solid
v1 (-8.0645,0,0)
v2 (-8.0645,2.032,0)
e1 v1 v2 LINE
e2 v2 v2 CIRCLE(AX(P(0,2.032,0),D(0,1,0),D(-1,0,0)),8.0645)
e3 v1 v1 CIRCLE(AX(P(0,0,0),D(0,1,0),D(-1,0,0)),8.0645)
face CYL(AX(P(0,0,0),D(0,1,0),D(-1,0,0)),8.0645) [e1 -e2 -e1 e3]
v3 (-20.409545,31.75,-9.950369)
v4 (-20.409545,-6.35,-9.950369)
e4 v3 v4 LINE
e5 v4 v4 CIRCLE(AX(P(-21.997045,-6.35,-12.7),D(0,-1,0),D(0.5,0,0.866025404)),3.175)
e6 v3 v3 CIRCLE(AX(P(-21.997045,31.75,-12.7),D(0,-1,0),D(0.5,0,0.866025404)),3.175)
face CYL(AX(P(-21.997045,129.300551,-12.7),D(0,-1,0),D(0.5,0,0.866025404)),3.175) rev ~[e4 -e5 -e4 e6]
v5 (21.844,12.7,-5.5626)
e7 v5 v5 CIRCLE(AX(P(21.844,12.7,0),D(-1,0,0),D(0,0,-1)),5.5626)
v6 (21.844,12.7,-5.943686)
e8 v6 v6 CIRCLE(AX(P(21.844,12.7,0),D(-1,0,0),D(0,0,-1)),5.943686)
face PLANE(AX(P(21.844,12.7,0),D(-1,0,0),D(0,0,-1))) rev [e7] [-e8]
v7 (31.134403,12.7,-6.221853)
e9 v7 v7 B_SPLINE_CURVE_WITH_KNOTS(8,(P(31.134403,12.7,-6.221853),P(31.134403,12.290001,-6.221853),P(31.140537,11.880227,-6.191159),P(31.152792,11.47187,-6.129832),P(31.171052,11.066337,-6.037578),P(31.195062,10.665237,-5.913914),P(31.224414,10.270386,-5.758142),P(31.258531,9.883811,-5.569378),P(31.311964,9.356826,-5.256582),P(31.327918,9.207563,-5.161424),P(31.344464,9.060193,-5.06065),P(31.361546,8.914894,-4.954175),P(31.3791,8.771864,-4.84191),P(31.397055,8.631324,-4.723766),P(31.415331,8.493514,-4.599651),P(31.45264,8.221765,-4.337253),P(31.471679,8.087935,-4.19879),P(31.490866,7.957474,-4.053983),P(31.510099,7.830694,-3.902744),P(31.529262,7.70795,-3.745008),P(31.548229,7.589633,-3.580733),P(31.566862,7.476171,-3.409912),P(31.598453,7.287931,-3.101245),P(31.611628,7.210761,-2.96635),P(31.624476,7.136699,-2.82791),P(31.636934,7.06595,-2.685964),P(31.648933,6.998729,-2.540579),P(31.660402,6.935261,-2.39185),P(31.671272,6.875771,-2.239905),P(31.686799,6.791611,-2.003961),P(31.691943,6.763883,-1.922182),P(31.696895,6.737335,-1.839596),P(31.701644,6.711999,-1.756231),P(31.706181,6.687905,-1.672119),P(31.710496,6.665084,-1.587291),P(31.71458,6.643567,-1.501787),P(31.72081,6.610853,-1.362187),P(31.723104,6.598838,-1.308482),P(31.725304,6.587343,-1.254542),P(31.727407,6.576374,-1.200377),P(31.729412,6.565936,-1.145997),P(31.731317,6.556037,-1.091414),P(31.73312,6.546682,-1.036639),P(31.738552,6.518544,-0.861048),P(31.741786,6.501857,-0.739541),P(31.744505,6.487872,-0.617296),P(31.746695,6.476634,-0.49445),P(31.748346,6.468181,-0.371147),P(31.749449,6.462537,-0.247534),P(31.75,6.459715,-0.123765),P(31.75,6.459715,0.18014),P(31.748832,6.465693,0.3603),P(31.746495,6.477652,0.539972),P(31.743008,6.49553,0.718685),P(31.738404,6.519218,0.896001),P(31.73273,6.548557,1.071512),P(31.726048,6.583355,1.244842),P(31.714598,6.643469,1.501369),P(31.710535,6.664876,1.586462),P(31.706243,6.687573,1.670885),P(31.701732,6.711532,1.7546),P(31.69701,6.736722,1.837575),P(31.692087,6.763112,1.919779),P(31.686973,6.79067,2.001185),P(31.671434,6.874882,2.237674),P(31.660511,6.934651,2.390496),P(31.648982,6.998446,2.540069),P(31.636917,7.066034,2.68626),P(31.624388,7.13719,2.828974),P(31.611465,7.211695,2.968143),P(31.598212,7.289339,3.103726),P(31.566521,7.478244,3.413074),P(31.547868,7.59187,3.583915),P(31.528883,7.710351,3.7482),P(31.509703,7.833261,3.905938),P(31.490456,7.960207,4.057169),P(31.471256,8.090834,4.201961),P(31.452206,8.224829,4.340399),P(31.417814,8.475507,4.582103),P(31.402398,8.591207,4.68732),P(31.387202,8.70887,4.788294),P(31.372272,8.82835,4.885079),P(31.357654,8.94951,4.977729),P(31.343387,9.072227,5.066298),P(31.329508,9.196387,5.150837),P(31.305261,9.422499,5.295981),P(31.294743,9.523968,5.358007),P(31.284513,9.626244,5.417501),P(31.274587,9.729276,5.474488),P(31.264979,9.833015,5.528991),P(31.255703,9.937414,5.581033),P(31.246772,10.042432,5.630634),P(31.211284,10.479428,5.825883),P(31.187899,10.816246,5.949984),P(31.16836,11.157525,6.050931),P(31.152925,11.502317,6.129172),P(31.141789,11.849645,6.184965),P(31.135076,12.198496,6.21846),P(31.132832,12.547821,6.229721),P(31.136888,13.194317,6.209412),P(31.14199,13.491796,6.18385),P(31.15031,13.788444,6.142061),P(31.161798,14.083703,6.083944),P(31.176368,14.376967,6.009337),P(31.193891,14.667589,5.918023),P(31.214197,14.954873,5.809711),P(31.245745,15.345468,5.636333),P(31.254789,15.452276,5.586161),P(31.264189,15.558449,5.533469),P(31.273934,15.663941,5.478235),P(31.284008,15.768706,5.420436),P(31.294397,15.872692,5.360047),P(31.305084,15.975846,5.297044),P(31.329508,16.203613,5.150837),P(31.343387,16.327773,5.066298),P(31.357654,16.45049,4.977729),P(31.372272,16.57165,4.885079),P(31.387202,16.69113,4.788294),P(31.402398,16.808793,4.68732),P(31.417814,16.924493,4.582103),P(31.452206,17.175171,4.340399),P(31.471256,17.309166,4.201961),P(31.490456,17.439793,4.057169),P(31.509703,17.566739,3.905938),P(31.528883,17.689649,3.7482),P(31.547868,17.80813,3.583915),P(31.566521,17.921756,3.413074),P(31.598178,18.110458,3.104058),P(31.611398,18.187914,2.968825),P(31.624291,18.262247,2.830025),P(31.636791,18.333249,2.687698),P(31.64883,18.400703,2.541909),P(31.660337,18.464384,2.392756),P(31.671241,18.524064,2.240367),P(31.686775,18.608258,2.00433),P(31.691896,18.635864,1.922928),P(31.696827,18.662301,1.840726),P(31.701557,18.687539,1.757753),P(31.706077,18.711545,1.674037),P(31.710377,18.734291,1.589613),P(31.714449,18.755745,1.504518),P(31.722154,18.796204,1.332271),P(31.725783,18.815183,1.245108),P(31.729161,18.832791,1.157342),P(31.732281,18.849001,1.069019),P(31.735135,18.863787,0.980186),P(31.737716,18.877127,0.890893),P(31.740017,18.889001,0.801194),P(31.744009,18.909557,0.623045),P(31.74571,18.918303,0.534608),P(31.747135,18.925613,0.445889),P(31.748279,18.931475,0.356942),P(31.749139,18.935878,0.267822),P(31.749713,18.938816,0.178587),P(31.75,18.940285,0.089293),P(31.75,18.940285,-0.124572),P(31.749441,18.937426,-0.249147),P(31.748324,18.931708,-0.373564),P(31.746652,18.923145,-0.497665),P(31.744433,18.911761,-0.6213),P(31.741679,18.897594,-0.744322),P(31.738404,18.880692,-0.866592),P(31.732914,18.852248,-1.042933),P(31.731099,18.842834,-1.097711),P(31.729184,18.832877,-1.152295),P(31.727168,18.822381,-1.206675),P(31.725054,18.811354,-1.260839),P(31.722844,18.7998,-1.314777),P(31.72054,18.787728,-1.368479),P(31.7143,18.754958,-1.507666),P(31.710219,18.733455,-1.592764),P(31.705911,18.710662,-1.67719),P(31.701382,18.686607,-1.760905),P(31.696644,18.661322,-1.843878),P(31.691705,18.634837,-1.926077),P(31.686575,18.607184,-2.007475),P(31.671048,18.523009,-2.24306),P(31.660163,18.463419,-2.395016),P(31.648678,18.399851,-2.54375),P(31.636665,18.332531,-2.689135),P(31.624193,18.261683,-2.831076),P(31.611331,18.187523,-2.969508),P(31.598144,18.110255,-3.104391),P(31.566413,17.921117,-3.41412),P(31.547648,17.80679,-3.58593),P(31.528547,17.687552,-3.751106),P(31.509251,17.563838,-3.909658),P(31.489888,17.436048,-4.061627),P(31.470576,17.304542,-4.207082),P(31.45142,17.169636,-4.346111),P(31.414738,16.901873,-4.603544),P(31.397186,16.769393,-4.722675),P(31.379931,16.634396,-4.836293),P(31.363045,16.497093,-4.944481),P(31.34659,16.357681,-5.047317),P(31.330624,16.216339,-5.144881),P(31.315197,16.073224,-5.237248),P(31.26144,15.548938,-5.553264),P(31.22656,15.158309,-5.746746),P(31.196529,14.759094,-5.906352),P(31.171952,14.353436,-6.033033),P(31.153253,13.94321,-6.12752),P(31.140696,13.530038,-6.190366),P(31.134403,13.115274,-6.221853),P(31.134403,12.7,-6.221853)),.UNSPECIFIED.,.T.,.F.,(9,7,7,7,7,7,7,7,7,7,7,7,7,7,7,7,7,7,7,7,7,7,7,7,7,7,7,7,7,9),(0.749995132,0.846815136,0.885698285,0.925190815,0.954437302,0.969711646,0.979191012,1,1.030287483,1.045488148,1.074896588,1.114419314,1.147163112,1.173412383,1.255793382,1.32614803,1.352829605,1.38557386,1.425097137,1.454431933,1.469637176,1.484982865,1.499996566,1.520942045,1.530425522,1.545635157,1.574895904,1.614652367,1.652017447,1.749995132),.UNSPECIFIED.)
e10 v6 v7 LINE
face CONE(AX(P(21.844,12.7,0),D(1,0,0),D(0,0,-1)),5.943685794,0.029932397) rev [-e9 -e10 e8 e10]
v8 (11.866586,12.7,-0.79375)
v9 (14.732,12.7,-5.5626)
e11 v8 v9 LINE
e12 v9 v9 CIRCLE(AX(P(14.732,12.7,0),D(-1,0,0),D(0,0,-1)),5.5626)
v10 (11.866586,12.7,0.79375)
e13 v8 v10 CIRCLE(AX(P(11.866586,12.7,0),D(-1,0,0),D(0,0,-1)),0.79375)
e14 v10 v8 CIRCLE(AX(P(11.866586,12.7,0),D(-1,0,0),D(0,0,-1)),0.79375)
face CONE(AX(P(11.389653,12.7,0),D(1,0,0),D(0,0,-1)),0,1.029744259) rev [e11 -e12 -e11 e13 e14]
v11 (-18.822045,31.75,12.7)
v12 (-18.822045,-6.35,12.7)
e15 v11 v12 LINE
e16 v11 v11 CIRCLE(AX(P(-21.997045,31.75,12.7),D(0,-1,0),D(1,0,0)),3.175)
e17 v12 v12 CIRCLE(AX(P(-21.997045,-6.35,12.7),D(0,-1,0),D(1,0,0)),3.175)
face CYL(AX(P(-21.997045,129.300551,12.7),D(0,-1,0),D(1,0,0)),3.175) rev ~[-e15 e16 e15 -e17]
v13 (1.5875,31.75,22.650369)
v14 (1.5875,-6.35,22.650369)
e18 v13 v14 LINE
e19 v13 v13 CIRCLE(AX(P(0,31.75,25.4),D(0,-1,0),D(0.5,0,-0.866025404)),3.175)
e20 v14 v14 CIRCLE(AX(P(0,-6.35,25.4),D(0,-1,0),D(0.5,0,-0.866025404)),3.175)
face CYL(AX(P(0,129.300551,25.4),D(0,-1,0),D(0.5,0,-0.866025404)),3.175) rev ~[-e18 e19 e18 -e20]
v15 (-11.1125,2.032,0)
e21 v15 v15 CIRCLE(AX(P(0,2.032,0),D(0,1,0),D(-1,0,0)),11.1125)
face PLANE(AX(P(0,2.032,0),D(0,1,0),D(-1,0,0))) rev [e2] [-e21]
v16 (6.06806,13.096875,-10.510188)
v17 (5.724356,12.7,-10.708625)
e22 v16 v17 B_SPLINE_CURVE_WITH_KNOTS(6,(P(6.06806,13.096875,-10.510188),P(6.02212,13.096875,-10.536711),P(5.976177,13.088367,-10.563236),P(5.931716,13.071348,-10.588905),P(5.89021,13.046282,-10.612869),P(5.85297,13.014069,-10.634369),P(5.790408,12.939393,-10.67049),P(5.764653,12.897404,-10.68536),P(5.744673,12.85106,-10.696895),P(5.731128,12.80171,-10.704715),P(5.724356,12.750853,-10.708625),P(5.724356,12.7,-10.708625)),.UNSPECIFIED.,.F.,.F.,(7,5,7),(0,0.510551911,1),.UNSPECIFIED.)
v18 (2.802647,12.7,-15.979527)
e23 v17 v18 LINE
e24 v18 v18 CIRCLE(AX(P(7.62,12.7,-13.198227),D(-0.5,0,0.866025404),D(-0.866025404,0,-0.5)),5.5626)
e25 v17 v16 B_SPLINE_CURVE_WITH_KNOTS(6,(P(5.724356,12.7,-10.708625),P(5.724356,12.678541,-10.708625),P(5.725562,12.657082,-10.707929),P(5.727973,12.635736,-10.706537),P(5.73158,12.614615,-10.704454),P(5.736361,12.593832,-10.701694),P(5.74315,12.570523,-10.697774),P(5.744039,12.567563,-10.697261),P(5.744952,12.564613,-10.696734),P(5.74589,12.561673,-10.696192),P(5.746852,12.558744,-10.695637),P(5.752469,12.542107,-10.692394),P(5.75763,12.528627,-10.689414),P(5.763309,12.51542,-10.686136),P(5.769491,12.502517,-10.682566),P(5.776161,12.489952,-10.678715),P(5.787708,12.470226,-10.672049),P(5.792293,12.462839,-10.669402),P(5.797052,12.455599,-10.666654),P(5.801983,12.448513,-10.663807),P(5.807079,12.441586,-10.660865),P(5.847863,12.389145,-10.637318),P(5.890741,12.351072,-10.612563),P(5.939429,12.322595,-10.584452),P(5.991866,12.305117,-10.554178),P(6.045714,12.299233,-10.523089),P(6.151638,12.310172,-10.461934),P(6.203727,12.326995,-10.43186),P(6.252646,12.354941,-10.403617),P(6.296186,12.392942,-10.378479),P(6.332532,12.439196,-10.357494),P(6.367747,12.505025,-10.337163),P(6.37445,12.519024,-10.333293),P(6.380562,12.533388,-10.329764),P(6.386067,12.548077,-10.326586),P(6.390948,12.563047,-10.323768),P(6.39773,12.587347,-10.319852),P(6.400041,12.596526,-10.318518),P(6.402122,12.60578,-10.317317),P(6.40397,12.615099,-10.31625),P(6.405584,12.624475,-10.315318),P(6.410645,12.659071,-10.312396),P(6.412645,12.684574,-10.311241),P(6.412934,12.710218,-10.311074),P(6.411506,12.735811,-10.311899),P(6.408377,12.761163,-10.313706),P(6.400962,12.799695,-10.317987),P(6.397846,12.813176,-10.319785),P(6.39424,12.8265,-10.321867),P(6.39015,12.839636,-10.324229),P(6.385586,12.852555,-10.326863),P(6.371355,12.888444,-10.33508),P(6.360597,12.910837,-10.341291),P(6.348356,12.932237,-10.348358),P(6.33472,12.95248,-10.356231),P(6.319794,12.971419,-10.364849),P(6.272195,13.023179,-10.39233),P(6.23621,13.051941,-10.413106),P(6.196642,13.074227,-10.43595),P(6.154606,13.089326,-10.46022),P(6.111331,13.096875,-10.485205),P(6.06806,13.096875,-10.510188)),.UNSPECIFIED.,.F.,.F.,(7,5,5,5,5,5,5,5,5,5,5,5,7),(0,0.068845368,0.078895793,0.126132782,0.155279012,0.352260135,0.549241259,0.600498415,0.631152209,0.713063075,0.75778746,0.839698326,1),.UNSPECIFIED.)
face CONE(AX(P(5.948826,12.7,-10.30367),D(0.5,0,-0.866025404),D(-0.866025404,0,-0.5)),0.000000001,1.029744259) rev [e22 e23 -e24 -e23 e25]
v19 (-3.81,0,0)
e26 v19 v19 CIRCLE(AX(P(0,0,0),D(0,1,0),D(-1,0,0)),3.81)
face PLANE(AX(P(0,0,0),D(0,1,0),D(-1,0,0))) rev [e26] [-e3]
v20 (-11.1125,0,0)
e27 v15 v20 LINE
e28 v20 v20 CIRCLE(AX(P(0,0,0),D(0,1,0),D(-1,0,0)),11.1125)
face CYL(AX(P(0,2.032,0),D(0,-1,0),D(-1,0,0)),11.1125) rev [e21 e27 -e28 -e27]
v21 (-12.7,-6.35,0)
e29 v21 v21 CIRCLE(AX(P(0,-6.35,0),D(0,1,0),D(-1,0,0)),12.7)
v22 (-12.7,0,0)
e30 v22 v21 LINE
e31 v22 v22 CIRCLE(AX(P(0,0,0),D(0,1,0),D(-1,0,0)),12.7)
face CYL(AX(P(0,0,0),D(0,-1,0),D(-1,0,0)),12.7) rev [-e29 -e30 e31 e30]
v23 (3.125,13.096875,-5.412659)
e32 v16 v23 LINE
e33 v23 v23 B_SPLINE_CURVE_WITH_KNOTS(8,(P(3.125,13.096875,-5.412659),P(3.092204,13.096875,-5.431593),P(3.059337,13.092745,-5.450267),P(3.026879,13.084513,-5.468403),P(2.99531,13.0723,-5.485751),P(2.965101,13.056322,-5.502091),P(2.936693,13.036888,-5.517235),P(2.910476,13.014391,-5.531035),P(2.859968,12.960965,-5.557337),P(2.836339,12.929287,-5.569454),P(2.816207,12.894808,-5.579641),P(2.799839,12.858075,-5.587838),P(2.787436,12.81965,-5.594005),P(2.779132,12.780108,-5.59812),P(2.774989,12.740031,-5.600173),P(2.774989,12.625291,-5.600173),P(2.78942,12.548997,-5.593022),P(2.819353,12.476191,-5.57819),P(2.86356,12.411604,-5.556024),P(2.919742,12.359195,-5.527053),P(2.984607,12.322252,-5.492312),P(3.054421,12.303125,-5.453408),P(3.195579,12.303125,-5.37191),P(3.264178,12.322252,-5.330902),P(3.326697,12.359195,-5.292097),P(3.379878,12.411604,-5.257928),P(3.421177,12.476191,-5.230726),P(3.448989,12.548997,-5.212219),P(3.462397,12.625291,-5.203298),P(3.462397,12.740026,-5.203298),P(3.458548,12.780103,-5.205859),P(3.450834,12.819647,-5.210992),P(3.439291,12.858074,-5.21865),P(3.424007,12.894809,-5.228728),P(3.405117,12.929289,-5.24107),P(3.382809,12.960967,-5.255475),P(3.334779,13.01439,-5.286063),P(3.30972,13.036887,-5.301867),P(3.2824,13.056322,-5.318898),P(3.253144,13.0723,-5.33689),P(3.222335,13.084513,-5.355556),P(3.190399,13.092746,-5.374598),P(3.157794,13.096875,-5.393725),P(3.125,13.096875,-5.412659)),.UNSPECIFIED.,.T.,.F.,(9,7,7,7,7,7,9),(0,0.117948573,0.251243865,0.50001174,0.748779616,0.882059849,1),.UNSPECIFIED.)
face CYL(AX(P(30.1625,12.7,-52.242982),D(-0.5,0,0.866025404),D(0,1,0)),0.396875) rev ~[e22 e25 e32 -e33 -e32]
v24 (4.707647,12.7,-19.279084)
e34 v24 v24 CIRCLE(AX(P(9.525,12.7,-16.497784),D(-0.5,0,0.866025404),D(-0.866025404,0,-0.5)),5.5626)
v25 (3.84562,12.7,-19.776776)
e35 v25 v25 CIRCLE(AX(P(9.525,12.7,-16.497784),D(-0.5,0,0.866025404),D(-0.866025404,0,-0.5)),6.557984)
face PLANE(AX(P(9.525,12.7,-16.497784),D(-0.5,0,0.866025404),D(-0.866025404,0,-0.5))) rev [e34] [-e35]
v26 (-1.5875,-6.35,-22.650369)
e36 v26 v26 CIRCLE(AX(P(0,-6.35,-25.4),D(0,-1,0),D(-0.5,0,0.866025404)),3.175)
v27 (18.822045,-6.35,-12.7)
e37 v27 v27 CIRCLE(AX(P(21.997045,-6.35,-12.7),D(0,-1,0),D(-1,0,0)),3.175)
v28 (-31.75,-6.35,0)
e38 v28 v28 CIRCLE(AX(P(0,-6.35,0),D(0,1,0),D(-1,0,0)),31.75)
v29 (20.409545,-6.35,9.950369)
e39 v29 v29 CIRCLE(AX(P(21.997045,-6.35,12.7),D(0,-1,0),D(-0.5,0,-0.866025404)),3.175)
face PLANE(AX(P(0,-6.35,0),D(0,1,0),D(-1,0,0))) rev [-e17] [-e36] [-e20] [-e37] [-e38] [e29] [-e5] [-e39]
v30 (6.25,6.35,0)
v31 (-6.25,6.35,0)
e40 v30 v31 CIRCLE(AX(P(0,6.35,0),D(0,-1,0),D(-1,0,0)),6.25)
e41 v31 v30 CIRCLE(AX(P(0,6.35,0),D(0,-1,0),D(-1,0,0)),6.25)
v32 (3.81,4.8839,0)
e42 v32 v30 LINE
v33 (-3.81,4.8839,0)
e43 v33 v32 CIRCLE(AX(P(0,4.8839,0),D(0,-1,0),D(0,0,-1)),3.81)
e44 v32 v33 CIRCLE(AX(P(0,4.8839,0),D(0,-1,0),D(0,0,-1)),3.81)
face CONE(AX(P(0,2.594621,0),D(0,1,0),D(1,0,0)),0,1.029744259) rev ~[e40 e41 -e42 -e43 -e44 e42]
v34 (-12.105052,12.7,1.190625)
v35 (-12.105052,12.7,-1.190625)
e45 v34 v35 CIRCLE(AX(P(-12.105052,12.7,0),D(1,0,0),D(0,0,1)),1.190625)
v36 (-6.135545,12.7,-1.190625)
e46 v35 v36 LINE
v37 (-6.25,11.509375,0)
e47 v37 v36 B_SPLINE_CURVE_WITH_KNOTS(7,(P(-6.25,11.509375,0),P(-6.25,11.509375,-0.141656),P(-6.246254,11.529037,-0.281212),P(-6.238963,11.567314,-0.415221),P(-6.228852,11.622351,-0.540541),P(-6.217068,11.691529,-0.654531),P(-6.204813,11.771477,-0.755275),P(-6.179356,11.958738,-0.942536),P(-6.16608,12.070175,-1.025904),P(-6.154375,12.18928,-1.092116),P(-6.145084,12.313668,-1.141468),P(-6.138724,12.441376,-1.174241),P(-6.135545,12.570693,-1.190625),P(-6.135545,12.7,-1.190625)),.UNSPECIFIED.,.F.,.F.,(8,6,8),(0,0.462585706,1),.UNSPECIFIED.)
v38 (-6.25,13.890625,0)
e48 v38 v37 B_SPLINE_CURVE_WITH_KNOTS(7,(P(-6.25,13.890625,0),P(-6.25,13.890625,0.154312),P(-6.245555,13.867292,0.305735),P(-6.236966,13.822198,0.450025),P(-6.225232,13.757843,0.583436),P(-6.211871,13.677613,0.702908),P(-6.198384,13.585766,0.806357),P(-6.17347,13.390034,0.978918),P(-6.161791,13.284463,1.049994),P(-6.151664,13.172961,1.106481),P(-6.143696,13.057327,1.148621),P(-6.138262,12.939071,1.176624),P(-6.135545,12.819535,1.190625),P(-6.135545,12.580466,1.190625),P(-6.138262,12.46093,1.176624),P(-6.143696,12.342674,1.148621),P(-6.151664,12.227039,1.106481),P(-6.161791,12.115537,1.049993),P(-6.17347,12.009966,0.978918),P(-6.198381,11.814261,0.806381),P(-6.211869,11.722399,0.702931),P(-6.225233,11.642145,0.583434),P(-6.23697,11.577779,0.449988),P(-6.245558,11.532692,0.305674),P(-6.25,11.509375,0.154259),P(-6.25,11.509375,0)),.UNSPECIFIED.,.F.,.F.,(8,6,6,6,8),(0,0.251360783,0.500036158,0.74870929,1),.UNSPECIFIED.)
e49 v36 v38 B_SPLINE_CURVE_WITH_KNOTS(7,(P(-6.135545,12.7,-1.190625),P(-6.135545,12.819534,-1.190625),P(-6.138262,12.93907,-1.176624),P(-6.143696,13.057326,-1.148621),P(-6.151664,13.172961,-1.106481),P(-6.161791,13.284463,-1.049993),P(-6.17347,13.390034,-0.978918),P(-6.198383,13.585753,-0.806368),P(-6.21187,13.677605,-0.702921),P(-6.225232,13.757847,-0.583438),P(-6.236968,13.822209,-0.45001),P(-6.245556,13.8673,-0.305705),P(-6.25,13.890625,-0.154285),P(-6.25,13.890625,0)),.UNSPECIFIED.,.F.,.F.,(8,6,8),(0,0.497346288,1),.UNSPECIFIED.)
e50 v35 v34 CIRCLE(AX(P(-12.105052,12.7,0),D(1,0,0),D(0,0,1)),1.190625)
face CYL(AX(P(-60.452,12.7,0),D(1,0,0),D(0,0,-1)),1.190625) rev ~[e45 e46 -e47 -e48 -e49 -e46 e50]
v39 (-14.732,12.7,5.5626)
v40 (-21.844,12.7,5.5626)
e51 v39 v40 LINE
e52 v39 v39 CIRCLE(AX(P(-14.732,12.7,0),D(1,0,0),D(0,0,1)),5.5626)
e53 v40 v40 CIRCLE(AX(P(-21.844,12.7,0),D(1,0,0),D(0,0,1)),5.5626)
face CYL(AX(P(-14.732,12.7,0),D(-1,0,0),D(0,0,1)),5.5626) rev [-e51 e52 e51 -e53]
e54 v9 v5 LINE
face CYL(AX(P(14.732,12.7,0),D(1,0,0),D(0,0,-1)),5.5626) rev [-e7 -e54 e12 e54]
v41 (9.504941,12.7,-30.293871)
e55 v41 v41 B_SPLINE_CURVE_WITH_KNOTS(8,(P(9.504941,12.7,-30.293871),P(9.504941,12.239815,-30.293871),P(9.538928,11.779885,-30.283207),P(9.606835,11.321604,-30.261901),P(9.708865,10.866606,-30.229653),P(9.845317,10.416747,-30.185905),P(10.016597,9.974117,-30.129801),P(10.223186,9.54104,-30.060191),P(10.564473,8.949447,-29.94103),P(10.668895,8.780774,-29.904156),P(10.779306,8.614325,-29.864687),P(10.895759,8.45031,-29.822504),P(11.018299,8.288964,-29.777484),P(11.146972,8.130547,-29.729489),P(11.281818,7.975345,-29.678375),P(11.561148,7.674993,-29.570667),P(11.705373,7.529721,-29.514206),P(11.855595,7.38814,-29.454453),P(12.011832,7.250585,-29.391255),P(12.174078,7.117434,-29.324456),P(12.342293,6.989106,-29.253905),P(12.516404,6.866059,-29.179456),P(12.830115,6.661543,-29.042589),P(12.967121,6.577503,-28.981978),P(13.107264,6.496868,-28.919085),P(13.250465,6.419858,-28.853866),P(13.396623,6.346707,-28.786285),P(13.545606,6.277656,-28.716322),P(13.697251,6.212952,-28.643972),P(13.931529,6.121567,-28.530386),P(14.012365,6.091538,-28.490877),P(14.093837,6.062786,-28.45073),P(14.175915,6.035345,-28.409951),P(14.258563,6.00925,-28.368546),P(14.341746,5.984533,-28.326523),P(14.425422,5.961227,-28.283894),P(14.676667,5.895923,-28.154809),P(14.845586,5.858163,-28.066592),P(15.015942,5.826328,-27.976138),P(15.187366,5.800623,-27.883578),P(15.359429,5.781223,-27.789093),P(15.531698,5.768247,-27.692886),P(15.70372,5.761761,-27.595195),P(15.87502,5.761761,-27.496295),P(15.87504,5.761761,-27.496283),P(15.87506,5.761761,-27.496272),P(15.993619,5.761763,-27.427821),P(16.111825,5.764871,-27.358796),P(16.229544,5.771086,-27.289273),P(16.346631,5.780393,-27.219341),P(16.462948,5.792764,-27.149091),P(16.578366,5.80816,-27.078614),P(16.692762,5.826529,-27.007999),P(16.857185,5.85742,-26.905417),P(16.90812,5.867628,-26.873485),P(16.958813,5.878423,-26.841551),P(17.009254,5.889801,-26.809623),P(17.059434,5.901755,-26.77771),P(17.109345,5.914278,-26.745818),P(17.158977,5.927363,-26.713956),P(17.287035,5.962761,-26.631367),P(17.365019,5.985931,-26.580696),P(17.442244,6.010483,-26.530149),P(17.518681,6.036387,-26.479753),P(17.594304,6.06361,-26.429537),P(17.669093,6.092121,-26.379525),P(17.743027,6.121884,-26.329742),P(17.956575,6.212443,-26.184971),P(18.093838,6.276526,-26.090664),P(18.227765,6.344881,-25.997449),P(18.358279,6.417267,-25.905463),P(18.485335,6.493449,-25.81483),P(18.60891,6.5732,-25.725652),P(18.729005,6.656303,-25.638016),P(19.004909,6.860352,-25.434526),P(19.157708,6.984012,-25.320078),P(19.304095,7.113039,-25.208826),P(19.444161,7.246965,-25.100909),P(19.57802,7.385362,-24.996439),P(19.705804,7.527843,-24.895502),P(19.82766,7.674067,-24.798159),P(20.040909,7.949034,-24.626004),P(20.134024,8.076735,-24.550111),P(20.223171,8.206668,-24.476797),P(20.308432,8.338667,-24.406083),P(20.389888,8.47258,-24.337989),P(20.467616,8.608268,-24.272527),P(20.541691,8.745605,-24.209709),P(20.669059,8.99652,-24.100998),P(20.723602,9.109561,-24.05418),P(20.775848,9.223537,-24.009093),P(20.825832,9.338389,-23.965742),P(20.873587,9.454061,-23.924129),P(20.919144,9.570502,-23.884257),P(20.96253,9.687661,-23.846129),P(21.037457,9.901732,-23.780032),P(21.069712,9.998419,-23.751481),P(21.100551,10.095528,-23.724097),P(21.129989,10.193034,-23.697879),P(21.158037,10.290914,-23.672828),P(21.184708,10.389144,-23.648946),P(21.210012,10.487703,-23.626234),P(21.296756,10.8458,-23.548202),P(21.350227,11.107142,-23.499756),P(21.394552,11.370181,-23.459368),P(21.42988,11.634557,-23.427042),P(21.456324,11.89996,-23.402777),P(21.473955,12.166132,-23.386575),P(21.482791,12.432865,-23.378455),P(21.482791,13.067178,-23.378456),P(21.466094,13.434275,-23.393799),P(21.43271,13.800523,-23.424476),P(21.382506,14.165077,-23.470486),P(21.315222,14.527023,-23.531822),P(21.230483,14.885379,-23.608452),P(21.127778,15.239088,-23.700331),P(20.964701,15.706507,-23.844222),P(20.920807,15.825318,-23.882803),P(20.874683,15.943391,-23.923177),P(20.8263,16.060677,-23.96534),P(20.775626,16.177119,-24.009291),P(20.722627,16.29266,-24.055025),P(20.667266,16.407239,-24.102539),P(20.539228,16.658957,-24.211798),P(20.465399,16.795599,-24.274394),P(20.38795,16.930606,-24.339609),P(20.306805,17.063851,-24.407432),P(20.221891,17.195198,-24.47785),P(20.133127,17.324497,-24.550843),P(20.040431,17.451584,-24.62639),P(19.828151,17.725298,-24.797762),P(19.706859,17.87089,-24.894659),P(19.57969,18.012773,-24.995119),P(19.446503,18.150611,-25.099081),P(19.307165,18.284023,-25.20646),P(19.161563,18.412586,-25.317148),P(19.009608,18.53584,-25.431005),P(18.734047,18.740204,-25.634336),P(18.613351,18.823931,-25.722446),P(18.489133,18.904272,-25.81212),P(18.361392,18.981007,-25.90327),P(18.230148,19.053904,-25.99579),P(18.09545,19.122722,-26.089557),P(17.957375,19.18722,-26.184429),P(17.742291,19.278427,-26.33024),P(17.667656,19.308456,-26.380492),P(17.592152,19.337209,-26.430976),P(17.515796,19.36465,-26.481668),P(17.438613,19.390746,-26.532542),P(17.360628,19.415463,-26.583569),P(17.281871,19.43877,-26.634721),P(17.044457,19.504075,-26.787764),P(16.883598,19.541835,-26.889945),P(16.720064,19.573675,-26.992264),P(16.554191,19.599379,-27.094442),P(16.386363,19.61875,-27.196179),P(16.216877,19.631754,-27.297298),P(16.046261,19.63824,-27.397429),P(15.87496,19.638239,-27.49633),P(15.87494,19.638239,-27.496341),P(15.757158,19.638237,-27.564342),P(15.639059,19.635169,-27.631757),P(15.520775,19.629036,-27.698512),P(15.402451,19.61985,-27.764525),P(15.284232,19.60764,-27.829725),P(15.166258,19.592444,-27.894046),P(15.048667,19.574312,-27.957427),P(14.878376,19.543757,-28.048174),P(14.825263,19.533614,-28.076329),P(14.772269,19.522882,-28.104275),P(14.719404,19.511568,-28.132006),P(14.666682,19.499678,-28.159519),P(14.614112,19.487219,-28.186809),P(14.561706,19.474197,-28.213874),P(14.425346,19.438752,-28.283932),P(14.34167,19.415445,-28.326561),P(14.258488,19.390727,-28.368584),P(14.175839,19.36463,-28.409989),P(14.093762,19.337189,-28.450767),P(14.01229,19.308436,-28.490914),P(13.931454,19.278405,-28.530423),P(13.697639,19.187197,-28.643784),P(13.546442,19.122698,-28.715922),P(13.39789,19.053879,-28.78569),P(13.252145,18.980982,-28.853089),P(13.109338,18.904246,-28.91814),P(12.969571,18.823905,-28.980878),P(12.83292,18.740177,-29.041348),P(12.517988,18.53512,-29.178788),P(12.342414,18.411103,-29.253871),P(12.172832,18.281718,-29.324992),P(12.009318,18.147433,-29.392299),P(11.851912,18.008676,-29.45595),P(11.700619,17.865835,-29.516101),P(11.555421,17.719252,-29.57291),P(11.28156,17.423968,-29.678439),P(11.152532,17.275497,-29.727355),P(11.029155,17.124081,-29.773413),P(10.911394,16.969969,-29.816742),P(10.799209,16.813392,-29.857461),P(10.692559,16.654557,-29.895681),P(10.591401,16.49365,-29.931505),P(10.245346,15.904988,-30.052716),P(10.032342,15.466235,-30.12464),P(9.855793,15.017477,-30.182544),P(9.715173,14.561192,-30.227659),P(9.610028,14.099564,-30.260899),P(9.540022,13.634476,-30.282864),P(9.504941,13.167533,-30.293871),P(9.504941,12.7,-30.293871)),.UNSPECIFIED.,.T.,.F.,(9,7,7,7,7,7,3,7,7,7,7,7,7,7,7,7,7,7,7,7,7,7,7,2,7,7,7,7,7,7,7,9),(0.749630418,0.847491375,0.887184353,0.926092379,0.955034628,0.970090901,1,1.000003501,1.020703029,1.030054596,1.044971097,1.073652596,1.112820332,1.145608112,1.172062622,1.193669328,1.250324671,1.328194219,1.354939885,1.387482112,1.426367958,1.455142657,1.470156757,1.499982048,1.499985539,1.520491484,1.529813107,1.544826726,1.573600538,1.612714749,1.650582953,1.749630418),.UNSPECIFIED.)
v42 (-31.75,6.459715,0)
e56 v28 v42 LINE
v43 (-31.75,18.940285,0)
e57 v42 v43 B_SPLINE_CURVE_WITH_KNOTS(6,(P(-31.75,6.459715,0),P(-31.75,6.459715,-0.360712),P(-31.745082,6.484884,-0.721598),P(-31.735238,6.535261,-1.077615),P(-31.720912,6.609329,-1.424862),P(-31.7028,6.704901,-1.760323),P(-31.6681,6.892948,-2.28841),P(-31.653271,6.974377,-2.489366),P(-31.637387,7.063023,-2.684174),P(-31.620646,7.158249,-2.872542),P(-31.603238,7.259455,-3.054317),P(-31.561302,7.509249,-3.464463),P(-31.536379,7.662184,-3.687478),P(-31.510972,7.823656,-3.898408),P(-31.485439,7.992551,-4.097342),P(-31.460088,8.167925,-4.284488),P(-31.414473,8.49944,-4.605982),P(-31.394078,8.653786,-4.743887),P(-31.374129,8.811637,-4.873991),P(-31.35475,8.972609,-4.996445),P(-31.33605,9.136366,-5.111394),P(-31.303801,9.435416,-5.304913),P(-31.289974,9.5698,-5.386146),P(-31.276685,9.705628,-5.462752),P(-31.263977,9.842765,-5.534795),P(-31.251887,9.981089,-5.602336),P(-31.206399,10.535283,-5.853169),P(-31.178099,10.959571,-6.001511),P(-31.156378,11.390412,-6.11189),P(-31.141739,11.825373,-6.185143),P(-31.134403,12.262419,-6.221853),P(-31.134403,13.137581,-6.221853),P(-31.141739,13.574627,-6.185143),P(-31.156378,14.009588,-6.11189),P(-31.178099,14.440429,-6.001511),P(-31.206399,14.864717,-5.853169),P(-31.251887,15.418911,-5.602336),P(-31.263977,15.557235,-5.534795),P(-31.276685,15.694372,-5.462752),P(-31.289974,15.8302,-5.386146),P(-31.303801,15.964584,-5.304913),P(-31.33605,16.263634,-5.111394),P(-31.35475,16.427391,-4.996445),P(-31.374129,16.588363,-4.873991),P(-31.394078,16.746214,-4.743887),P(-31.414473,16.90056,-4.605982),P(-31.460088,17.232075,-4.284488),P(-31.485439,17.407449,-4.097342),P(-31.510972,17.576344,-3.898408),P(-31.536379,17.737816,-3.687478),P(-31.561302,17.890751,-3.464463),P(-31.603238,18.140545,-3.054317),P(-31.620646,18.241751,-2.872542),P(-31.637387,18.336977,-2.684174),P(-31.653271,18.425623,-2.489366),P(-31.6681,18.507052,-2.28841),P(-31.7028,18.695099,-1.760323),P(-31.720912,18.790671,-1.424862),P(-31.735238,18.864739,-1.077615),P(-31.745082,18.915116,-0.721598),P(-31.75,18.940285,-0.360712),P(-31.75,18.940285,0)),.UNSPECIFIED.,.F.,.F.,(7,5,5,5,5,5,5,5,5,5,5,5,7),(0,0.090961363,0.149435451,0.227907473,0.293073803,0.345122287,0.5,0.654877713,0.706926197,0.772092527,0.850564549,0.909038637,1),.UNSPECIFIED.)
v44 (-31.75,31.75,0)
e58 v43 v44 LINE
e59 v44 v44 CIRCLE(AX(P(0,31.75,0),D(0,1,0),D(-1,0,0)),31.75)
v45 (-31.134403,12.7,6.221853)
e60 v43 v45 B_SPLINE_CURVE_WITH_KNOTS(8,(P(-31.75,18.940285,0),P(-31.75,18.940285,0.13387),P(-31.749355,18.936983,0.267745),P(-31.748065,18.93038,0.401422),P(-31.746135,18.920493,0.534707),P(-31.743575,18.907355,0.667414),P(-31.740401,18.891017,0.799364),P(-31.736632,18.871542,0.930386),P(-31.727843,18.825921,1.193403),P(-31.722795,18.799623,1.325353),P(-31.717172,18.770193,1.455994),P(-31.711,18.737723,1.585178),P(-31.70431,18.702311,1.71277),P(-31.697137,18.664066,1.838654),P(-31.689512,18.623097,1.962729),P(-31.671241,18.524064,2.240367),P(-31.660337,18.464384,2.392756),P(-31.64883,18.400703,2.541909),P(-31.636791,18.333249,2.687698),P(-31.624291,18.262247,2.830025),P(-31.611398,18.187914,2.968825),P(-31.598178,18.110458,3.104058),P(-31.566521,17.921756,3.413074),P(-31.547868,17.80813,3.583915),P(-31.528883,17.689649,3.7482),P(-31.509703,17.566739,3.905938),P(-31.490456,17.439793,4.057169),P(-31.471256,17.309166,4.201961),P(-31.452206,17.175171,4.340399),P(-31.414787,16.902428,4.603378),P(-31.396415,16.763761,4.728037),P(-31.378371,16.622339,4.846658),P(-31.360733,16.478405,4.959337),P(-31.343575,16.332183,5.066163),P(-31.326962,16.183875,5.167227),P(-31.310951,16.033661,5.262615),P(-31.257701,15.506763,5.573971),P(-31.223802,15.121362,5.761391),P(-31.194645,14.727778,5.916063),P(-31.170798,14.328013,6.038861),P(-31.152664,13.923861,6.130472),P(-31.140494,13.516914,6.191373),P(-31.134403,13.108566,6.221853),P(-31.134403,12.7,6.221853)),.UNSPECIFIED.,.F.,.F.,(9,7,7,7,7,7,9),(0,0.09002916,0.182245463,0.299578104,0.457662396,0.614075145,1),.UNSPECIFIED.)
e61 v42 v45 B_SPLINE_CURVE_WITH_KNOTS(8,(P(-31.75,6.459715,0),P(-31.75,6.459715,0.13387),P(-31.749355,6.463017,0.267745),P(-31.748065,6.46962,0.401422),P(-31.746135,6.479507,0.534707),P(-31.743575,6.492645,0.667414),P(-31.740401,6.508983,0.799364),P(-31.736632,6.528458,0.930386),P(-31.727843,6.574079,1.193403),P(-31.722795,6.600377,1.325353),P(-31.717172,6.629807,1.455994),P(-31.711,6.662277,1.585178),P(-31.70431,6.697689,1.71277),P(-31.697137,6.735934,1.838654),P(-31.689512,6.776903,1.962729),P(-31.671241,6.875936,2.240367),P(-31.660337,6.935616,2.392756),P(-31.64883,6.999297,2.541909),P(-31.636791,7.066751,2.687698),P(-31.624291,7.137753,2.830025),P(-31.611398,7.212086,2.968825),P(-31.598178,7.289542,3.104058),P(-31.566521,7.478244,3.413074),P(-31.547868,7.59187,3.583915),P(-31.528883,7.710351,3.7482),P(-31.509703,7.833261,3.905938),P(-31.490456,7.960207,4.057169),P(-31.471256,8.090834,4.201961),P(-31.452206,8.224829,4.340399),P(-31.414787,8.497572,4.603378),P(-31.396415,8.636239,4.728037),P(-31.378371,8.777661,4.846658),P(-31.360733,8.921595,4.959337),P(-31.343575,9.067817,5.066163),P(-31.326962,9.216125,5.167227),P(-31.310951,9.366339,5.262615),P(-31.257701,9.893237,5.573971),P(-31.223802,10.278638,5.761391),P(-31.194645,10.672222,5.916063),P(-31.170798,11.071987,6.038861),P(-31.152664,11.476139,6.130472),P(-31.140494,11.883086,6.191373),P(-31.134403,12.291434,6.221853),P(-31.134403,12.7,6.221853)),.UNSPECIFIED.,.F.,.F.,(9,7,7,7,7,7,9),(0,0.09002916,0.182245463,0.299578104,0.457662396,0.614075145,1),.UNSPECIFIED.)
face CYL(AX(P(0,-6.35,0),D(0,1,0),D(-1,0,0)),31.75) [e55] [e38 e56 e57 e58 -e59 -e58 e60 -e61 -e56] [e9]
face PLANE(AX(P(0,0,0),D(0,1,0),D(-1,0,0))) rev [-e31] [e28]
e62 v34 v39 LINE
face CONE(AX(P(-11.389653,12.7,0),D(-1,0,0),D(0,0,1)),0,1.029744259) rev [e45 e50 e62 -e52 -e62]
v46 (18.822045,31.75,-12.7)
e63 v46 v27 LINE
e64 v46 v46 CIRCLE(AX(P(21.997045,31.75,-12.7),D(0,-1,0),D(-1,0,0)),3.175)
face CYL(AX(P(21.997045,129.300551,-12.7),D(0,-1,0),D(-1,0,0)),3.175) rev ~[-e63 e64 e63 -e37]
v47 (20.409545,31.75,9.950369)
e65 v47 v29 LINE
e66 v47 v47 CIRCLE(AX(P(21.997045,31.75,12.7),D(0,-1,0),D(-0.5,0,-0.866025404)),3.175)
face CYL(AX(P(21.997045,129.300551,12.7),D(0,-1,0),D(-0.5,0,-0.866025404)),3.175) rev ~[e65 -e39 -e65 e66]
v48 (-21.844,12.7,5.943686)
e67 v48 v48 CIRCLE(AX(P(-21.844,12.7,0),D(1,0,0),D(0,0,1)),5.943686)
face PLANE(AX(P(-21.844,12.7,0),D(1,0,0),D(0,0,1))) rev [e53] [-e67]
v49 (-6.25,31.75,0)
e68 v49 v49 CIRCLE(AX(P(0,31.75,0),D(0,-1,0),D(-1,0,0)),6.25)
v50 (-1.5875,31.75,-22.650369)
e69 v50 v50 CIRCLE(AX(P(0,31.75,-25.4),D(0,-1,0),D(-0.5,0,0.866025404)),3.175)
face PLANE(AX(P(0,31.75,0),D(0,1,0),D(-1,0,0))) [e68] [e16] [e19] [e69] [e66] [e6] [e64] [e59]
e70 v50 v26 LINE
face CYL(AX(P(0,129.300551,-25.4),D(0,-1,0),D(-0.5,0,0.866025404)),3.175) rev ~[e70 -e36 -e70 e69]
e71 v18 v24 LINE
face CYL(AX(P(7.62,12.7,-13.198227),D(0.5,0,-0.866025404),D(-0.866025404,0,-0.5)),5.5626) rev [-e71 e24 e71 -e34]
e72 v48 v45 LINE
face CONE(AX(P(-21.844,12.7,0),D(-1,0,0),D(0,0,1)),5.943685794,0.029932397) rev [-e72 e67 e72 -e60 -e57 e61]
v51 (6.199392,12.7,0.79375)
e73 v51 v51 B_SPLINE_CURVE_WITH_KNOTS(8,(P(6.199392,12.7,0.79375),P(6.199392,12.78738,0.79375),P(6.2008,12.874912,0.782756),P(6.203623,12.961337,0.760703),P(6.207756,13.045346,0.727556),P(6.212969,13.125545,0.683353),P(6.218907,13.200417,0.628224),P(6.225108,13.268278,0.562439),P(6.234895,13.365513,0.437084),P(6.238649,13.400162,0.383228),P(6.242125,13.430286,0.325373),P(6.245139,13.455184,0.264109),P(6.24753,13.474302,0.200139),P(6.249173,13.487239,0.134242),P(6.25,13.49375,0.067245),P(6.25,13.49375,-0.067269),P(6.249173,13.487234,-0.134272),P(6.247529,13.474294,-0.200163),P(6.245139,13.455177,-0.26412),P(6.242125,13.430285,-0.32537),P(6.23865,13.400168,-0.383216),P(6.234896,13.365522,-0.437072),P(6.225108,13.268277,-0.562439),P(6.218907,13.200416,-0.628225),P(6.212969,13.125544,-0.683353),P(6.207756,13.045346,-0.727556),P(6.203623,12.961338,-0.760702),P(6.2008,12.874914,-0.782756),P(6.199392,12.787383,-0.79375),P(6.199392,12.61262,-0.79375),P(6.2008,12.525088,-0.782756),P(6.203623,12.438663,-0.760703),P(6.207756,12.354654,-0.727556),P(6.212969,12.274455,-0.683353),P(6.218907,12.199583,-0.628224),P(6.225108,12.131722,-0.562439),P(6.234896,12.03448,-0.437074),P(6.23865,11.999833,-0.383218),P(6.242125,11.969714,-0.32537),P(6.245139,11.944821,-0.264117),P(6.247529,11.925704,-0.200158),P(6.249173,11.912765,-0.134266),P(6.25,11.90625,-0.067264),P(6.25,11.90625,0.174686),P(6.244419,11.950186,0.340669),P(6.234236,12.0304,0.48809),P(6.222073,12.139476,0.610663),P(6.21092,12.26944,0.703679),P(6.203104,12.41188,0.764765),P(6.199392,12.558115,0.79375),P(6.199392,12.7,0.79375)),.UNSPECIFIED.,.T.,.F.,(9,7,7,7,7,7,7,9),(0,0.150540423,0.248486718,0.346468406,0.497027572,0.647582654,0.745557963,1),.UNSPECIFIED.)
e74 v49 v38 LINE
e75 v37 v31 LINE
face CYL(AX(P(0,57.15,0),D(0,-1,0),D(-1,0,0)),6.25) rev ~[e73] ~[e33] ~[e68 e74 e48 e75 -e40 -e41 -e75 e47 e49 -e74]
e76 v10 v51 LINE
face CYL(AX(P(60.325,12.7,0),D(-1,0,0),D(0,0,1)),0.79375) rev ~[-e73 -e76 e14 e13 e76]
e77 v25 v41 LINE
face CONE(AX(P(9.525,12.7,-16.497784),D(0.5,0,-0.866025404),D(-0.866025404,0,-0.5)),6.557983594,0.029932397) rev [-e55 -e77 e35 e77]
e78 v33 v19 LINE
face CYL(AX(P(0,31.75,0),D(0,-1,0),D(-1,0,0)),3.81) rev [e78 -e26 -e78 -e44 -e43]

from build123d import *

# Parameters (mm, degrees)
M14X1_5_TAPPED_HOLE1_D              = 12.5
M14X1_5_TAPPED_HOLE1_DEPTH          = 25.4
M14X1_5_TAPPED_HOLE1_TIP            = 3.755378869
F_1_16_0_0625_DIAMETER_HOLE1_D      = 1.5875
F_1_16_0_0625_DIAMETER_HOLE1_DEPTH  = 28.575
F_1_16_0_0625_DIAMETER_HOLE1_TIP    = 0.476933116
F_3_32_0_09375_DIAMETER_HOLE1_D     = 2.38125
F_3_32_0_09375_DIAMETER_HOLE1_DEPTH = 28.702
F_3_32_0_09375_DIAMETER_HOLE1_TIP   = 0.715399675
F_1_4_0_25_DIAMETER_HOLE1_D         = 6.35
CIRPATTERN1_COUNT                   = 6
F_1_32_0_03125_DIAMETER_HOLE1_D     = 0.79375
F_1_32_0_03125_DIAMETER_HOLE1_DEPTH = 28.575
F_1_32_0_03125_DIAMETER_HOLE1_TIP   = 0.238466558


with BuildPart() as part:
    # Sketch1 → Revolve1 (revolve)
    with BuildSketch(Plane.XY):
        Polygon((-3.81, 0), (-8.0645, 0), (-8.0645, 2.032), (-11.1125, 2.032), (-11.1125, 0), (-12.7, 0), (-12.7, -6.35), (-31.75, -6.35), (-31.75, 31.75), (-3.81, 31.75), align=None)
    revolve(axis=Axis((0, 0, 0), (0, 1, 0)))

    # M14x1.5 Tapped Hole1
    with Locations(Plane(origin=(0, 31.75, 0), x_dir=(1, 0, 0), z_dir=(0, 1, 0))):
        with Locations((0, 0)):
            Hole(M14X1_5_TAPPED_HOLE1_D / 2, depth=M14X1_5_TAPPED_HOLE1_DEPTH)
            with Locations((0, 0, -(M14X1_5_TAPPED_HOLE1_DEPTH + M14X1_5_TAPPED_HOLE1_TIP / 2))):  # 118° drill point
                Cone(0, M14X1_5_TAPPED_HOLE1_D / 2, M14X1_5_TAPPED_HOLE1_TIP, mode=Mode.SUBTRACT)

    # Sketch6 → 1/4 NPT Tapped Hole1 (revolve, cut)
    with BuildSketch(Plane(origin=(31.75, 12.7, 0), x_dir=(0, 0, -1), z_dir=(0, 1, 0))):
        Polygon((0, 0), (0, 20.360347279), (5.5626, 17.018), (5.5626, 9.906), (5.943685794, 9.906), (6.2402847, 0), align=None)
    revolve(axis=Axis((38.1, 12.7, 0), (-1, 0, 0)), mode=Mode.SUBTRACT)

    # Sketch8 → 1/4 NPT Tapped Hole2 (revolve, cut)
    with BuildSketch(Plane(origin=(-31.75, 12.7, 0), x_dir=(0, 0, 1), z_dir=(0, 1, 0))):
        Polygon((0, 0), (0, 20.360347279), (5.5626, 17.018), (5.5626, 9.906), (5.943685794, 9.906), (6.2402847, 0), align=None)
    revolve(axis=Axis((-38.1, 12.7, 0), (1, 0, 0)), mode=Mode.SUBTRACT)

    # 1/16 (0.0625) Diameter Hole1
    with Locations(Plane(origin=(31.75, 0, 0), x_dir=(0, 0, -1), z_dir=(1, 0, 0))):
        with Locations((0, 12.7)):
            Hole(F_1_16_0_0625_DIAMETER_HOLE1_D / 2, depth=F_1_16_0_0625_DIAMETER_HOLE1_DEPTH)
            with Locations((0, 0, -(F_1_16_0_0625_DIAMETER_HOLE1_DEPTH + F_1_16_0_0625_DIAMETER_HOLE1_TIP / 2))):  # 118° drill point
                Cone(0, F_1_16_0_0625_DIAMETER_HOLE1_D / 2, F_1_16_0_0625_DIAMETER_HOLE1_TIP, mode=Mode.SUBTRACT)

    # 3/32 (0.09375) Diameter Hole1
    with Locations(Plane.ZY.offset(31.75)):
        with Locations((0, 12.7)):
            Hole(F_3_32_0_09375_DIAMETER_HOLE1_D / 2, depth=F_3_32_0_09375_DIAMETER_HOLE1_DEPTH)
            with Locations((0, 0, -(F_3_32_0_09375_DIAMETER_HOLE1_DEPTH + F_3_32_0_09375_DIAMETER_HOLE1_TIP / 2))):  # 118° drill point
                Cone(0, F_3_32_0_09375_DIAMETER_HOLE1_D / 2, F_3_32_0_09375_DIAMETER_HOLE1_TIP, mode=Mode.SUBTRACT)

    # 1/4 (0.25) Diameter Hole1 (through all)
    with Locations(Plane(origin=(0, 31.75, 0), x_dir=(1, 0, 0), z_dir=(0, 1, 0))):
        with Locations((21.997045256, 12.7)):
            f_1_4_0_25_diameter_hole1 = Hole(F_1_4_0_25_DIAMETER_HOLE1_D / 2)

    # CirPattern1: 1/4 (0.25) Diameter Hole1 ×6 about axis
    cirpattern1_axis = Axis((0, 0, 0), (0, 1, 0))
    for i in range(1, CIRPATTERN1_COUNT):
        add(f_1_4_0_25_diameter_hole1.rotate(cirpattern1_axis, i * 360 / CIRPATTERN1_COUNT), mode=Mode.SUBTRACT)

    # Sketch18 → 1/4 NPT Tapped Hole3 (revolve, cut)
    with BuildSketch(Plane(origin=(15.875, 12.7, -27.49630657), x_dir=(-0.866025404, 0, -0.5), z_dir=(0, 1, 0))):
        Polygon((0, 0), (0, 19.852347279), (5.5626, 16.51), (5.5626, 12.7), (6.557983593, 12.7), (6.9382386, 0), align=None)
    revolve(axis=Axis((19.05, 12.7, -32.995567884), (-0.5, 0, 0.866025404)), mode=Mode.SUBTRACT)

    # 1/32 (0.03125) Diameter Hole1
    with Locations(Plane(origin=(15.875, 0, -27.49630657), x_dir=(0, -1, 0), z_dir=(0.5, 0, -0.866025404))):
        with Locations((-12.7, 0)):
            Hole(F_1_32_0_03125_DIAMETER_HOLE1_D / 2, depth=F_1_32_0_03125_DIAMETER_HOLE1_DEPTH)
            with Locations((0, 0, -(F_1_32_0_03125_DIAMETER_HOLE1_DEPTH + F_1_32_0_03125_DIAMETER_HOLE1_TIP / 2))):  # 118° drill point
                Cone(0, F_1_32_0_03125_DIAMETER_HOLE1_D / 2, F_1_32_0_03125_DIAMETER_HOLE1_TIP, mode=Mode.SUBTRACT)


solid = part.part
